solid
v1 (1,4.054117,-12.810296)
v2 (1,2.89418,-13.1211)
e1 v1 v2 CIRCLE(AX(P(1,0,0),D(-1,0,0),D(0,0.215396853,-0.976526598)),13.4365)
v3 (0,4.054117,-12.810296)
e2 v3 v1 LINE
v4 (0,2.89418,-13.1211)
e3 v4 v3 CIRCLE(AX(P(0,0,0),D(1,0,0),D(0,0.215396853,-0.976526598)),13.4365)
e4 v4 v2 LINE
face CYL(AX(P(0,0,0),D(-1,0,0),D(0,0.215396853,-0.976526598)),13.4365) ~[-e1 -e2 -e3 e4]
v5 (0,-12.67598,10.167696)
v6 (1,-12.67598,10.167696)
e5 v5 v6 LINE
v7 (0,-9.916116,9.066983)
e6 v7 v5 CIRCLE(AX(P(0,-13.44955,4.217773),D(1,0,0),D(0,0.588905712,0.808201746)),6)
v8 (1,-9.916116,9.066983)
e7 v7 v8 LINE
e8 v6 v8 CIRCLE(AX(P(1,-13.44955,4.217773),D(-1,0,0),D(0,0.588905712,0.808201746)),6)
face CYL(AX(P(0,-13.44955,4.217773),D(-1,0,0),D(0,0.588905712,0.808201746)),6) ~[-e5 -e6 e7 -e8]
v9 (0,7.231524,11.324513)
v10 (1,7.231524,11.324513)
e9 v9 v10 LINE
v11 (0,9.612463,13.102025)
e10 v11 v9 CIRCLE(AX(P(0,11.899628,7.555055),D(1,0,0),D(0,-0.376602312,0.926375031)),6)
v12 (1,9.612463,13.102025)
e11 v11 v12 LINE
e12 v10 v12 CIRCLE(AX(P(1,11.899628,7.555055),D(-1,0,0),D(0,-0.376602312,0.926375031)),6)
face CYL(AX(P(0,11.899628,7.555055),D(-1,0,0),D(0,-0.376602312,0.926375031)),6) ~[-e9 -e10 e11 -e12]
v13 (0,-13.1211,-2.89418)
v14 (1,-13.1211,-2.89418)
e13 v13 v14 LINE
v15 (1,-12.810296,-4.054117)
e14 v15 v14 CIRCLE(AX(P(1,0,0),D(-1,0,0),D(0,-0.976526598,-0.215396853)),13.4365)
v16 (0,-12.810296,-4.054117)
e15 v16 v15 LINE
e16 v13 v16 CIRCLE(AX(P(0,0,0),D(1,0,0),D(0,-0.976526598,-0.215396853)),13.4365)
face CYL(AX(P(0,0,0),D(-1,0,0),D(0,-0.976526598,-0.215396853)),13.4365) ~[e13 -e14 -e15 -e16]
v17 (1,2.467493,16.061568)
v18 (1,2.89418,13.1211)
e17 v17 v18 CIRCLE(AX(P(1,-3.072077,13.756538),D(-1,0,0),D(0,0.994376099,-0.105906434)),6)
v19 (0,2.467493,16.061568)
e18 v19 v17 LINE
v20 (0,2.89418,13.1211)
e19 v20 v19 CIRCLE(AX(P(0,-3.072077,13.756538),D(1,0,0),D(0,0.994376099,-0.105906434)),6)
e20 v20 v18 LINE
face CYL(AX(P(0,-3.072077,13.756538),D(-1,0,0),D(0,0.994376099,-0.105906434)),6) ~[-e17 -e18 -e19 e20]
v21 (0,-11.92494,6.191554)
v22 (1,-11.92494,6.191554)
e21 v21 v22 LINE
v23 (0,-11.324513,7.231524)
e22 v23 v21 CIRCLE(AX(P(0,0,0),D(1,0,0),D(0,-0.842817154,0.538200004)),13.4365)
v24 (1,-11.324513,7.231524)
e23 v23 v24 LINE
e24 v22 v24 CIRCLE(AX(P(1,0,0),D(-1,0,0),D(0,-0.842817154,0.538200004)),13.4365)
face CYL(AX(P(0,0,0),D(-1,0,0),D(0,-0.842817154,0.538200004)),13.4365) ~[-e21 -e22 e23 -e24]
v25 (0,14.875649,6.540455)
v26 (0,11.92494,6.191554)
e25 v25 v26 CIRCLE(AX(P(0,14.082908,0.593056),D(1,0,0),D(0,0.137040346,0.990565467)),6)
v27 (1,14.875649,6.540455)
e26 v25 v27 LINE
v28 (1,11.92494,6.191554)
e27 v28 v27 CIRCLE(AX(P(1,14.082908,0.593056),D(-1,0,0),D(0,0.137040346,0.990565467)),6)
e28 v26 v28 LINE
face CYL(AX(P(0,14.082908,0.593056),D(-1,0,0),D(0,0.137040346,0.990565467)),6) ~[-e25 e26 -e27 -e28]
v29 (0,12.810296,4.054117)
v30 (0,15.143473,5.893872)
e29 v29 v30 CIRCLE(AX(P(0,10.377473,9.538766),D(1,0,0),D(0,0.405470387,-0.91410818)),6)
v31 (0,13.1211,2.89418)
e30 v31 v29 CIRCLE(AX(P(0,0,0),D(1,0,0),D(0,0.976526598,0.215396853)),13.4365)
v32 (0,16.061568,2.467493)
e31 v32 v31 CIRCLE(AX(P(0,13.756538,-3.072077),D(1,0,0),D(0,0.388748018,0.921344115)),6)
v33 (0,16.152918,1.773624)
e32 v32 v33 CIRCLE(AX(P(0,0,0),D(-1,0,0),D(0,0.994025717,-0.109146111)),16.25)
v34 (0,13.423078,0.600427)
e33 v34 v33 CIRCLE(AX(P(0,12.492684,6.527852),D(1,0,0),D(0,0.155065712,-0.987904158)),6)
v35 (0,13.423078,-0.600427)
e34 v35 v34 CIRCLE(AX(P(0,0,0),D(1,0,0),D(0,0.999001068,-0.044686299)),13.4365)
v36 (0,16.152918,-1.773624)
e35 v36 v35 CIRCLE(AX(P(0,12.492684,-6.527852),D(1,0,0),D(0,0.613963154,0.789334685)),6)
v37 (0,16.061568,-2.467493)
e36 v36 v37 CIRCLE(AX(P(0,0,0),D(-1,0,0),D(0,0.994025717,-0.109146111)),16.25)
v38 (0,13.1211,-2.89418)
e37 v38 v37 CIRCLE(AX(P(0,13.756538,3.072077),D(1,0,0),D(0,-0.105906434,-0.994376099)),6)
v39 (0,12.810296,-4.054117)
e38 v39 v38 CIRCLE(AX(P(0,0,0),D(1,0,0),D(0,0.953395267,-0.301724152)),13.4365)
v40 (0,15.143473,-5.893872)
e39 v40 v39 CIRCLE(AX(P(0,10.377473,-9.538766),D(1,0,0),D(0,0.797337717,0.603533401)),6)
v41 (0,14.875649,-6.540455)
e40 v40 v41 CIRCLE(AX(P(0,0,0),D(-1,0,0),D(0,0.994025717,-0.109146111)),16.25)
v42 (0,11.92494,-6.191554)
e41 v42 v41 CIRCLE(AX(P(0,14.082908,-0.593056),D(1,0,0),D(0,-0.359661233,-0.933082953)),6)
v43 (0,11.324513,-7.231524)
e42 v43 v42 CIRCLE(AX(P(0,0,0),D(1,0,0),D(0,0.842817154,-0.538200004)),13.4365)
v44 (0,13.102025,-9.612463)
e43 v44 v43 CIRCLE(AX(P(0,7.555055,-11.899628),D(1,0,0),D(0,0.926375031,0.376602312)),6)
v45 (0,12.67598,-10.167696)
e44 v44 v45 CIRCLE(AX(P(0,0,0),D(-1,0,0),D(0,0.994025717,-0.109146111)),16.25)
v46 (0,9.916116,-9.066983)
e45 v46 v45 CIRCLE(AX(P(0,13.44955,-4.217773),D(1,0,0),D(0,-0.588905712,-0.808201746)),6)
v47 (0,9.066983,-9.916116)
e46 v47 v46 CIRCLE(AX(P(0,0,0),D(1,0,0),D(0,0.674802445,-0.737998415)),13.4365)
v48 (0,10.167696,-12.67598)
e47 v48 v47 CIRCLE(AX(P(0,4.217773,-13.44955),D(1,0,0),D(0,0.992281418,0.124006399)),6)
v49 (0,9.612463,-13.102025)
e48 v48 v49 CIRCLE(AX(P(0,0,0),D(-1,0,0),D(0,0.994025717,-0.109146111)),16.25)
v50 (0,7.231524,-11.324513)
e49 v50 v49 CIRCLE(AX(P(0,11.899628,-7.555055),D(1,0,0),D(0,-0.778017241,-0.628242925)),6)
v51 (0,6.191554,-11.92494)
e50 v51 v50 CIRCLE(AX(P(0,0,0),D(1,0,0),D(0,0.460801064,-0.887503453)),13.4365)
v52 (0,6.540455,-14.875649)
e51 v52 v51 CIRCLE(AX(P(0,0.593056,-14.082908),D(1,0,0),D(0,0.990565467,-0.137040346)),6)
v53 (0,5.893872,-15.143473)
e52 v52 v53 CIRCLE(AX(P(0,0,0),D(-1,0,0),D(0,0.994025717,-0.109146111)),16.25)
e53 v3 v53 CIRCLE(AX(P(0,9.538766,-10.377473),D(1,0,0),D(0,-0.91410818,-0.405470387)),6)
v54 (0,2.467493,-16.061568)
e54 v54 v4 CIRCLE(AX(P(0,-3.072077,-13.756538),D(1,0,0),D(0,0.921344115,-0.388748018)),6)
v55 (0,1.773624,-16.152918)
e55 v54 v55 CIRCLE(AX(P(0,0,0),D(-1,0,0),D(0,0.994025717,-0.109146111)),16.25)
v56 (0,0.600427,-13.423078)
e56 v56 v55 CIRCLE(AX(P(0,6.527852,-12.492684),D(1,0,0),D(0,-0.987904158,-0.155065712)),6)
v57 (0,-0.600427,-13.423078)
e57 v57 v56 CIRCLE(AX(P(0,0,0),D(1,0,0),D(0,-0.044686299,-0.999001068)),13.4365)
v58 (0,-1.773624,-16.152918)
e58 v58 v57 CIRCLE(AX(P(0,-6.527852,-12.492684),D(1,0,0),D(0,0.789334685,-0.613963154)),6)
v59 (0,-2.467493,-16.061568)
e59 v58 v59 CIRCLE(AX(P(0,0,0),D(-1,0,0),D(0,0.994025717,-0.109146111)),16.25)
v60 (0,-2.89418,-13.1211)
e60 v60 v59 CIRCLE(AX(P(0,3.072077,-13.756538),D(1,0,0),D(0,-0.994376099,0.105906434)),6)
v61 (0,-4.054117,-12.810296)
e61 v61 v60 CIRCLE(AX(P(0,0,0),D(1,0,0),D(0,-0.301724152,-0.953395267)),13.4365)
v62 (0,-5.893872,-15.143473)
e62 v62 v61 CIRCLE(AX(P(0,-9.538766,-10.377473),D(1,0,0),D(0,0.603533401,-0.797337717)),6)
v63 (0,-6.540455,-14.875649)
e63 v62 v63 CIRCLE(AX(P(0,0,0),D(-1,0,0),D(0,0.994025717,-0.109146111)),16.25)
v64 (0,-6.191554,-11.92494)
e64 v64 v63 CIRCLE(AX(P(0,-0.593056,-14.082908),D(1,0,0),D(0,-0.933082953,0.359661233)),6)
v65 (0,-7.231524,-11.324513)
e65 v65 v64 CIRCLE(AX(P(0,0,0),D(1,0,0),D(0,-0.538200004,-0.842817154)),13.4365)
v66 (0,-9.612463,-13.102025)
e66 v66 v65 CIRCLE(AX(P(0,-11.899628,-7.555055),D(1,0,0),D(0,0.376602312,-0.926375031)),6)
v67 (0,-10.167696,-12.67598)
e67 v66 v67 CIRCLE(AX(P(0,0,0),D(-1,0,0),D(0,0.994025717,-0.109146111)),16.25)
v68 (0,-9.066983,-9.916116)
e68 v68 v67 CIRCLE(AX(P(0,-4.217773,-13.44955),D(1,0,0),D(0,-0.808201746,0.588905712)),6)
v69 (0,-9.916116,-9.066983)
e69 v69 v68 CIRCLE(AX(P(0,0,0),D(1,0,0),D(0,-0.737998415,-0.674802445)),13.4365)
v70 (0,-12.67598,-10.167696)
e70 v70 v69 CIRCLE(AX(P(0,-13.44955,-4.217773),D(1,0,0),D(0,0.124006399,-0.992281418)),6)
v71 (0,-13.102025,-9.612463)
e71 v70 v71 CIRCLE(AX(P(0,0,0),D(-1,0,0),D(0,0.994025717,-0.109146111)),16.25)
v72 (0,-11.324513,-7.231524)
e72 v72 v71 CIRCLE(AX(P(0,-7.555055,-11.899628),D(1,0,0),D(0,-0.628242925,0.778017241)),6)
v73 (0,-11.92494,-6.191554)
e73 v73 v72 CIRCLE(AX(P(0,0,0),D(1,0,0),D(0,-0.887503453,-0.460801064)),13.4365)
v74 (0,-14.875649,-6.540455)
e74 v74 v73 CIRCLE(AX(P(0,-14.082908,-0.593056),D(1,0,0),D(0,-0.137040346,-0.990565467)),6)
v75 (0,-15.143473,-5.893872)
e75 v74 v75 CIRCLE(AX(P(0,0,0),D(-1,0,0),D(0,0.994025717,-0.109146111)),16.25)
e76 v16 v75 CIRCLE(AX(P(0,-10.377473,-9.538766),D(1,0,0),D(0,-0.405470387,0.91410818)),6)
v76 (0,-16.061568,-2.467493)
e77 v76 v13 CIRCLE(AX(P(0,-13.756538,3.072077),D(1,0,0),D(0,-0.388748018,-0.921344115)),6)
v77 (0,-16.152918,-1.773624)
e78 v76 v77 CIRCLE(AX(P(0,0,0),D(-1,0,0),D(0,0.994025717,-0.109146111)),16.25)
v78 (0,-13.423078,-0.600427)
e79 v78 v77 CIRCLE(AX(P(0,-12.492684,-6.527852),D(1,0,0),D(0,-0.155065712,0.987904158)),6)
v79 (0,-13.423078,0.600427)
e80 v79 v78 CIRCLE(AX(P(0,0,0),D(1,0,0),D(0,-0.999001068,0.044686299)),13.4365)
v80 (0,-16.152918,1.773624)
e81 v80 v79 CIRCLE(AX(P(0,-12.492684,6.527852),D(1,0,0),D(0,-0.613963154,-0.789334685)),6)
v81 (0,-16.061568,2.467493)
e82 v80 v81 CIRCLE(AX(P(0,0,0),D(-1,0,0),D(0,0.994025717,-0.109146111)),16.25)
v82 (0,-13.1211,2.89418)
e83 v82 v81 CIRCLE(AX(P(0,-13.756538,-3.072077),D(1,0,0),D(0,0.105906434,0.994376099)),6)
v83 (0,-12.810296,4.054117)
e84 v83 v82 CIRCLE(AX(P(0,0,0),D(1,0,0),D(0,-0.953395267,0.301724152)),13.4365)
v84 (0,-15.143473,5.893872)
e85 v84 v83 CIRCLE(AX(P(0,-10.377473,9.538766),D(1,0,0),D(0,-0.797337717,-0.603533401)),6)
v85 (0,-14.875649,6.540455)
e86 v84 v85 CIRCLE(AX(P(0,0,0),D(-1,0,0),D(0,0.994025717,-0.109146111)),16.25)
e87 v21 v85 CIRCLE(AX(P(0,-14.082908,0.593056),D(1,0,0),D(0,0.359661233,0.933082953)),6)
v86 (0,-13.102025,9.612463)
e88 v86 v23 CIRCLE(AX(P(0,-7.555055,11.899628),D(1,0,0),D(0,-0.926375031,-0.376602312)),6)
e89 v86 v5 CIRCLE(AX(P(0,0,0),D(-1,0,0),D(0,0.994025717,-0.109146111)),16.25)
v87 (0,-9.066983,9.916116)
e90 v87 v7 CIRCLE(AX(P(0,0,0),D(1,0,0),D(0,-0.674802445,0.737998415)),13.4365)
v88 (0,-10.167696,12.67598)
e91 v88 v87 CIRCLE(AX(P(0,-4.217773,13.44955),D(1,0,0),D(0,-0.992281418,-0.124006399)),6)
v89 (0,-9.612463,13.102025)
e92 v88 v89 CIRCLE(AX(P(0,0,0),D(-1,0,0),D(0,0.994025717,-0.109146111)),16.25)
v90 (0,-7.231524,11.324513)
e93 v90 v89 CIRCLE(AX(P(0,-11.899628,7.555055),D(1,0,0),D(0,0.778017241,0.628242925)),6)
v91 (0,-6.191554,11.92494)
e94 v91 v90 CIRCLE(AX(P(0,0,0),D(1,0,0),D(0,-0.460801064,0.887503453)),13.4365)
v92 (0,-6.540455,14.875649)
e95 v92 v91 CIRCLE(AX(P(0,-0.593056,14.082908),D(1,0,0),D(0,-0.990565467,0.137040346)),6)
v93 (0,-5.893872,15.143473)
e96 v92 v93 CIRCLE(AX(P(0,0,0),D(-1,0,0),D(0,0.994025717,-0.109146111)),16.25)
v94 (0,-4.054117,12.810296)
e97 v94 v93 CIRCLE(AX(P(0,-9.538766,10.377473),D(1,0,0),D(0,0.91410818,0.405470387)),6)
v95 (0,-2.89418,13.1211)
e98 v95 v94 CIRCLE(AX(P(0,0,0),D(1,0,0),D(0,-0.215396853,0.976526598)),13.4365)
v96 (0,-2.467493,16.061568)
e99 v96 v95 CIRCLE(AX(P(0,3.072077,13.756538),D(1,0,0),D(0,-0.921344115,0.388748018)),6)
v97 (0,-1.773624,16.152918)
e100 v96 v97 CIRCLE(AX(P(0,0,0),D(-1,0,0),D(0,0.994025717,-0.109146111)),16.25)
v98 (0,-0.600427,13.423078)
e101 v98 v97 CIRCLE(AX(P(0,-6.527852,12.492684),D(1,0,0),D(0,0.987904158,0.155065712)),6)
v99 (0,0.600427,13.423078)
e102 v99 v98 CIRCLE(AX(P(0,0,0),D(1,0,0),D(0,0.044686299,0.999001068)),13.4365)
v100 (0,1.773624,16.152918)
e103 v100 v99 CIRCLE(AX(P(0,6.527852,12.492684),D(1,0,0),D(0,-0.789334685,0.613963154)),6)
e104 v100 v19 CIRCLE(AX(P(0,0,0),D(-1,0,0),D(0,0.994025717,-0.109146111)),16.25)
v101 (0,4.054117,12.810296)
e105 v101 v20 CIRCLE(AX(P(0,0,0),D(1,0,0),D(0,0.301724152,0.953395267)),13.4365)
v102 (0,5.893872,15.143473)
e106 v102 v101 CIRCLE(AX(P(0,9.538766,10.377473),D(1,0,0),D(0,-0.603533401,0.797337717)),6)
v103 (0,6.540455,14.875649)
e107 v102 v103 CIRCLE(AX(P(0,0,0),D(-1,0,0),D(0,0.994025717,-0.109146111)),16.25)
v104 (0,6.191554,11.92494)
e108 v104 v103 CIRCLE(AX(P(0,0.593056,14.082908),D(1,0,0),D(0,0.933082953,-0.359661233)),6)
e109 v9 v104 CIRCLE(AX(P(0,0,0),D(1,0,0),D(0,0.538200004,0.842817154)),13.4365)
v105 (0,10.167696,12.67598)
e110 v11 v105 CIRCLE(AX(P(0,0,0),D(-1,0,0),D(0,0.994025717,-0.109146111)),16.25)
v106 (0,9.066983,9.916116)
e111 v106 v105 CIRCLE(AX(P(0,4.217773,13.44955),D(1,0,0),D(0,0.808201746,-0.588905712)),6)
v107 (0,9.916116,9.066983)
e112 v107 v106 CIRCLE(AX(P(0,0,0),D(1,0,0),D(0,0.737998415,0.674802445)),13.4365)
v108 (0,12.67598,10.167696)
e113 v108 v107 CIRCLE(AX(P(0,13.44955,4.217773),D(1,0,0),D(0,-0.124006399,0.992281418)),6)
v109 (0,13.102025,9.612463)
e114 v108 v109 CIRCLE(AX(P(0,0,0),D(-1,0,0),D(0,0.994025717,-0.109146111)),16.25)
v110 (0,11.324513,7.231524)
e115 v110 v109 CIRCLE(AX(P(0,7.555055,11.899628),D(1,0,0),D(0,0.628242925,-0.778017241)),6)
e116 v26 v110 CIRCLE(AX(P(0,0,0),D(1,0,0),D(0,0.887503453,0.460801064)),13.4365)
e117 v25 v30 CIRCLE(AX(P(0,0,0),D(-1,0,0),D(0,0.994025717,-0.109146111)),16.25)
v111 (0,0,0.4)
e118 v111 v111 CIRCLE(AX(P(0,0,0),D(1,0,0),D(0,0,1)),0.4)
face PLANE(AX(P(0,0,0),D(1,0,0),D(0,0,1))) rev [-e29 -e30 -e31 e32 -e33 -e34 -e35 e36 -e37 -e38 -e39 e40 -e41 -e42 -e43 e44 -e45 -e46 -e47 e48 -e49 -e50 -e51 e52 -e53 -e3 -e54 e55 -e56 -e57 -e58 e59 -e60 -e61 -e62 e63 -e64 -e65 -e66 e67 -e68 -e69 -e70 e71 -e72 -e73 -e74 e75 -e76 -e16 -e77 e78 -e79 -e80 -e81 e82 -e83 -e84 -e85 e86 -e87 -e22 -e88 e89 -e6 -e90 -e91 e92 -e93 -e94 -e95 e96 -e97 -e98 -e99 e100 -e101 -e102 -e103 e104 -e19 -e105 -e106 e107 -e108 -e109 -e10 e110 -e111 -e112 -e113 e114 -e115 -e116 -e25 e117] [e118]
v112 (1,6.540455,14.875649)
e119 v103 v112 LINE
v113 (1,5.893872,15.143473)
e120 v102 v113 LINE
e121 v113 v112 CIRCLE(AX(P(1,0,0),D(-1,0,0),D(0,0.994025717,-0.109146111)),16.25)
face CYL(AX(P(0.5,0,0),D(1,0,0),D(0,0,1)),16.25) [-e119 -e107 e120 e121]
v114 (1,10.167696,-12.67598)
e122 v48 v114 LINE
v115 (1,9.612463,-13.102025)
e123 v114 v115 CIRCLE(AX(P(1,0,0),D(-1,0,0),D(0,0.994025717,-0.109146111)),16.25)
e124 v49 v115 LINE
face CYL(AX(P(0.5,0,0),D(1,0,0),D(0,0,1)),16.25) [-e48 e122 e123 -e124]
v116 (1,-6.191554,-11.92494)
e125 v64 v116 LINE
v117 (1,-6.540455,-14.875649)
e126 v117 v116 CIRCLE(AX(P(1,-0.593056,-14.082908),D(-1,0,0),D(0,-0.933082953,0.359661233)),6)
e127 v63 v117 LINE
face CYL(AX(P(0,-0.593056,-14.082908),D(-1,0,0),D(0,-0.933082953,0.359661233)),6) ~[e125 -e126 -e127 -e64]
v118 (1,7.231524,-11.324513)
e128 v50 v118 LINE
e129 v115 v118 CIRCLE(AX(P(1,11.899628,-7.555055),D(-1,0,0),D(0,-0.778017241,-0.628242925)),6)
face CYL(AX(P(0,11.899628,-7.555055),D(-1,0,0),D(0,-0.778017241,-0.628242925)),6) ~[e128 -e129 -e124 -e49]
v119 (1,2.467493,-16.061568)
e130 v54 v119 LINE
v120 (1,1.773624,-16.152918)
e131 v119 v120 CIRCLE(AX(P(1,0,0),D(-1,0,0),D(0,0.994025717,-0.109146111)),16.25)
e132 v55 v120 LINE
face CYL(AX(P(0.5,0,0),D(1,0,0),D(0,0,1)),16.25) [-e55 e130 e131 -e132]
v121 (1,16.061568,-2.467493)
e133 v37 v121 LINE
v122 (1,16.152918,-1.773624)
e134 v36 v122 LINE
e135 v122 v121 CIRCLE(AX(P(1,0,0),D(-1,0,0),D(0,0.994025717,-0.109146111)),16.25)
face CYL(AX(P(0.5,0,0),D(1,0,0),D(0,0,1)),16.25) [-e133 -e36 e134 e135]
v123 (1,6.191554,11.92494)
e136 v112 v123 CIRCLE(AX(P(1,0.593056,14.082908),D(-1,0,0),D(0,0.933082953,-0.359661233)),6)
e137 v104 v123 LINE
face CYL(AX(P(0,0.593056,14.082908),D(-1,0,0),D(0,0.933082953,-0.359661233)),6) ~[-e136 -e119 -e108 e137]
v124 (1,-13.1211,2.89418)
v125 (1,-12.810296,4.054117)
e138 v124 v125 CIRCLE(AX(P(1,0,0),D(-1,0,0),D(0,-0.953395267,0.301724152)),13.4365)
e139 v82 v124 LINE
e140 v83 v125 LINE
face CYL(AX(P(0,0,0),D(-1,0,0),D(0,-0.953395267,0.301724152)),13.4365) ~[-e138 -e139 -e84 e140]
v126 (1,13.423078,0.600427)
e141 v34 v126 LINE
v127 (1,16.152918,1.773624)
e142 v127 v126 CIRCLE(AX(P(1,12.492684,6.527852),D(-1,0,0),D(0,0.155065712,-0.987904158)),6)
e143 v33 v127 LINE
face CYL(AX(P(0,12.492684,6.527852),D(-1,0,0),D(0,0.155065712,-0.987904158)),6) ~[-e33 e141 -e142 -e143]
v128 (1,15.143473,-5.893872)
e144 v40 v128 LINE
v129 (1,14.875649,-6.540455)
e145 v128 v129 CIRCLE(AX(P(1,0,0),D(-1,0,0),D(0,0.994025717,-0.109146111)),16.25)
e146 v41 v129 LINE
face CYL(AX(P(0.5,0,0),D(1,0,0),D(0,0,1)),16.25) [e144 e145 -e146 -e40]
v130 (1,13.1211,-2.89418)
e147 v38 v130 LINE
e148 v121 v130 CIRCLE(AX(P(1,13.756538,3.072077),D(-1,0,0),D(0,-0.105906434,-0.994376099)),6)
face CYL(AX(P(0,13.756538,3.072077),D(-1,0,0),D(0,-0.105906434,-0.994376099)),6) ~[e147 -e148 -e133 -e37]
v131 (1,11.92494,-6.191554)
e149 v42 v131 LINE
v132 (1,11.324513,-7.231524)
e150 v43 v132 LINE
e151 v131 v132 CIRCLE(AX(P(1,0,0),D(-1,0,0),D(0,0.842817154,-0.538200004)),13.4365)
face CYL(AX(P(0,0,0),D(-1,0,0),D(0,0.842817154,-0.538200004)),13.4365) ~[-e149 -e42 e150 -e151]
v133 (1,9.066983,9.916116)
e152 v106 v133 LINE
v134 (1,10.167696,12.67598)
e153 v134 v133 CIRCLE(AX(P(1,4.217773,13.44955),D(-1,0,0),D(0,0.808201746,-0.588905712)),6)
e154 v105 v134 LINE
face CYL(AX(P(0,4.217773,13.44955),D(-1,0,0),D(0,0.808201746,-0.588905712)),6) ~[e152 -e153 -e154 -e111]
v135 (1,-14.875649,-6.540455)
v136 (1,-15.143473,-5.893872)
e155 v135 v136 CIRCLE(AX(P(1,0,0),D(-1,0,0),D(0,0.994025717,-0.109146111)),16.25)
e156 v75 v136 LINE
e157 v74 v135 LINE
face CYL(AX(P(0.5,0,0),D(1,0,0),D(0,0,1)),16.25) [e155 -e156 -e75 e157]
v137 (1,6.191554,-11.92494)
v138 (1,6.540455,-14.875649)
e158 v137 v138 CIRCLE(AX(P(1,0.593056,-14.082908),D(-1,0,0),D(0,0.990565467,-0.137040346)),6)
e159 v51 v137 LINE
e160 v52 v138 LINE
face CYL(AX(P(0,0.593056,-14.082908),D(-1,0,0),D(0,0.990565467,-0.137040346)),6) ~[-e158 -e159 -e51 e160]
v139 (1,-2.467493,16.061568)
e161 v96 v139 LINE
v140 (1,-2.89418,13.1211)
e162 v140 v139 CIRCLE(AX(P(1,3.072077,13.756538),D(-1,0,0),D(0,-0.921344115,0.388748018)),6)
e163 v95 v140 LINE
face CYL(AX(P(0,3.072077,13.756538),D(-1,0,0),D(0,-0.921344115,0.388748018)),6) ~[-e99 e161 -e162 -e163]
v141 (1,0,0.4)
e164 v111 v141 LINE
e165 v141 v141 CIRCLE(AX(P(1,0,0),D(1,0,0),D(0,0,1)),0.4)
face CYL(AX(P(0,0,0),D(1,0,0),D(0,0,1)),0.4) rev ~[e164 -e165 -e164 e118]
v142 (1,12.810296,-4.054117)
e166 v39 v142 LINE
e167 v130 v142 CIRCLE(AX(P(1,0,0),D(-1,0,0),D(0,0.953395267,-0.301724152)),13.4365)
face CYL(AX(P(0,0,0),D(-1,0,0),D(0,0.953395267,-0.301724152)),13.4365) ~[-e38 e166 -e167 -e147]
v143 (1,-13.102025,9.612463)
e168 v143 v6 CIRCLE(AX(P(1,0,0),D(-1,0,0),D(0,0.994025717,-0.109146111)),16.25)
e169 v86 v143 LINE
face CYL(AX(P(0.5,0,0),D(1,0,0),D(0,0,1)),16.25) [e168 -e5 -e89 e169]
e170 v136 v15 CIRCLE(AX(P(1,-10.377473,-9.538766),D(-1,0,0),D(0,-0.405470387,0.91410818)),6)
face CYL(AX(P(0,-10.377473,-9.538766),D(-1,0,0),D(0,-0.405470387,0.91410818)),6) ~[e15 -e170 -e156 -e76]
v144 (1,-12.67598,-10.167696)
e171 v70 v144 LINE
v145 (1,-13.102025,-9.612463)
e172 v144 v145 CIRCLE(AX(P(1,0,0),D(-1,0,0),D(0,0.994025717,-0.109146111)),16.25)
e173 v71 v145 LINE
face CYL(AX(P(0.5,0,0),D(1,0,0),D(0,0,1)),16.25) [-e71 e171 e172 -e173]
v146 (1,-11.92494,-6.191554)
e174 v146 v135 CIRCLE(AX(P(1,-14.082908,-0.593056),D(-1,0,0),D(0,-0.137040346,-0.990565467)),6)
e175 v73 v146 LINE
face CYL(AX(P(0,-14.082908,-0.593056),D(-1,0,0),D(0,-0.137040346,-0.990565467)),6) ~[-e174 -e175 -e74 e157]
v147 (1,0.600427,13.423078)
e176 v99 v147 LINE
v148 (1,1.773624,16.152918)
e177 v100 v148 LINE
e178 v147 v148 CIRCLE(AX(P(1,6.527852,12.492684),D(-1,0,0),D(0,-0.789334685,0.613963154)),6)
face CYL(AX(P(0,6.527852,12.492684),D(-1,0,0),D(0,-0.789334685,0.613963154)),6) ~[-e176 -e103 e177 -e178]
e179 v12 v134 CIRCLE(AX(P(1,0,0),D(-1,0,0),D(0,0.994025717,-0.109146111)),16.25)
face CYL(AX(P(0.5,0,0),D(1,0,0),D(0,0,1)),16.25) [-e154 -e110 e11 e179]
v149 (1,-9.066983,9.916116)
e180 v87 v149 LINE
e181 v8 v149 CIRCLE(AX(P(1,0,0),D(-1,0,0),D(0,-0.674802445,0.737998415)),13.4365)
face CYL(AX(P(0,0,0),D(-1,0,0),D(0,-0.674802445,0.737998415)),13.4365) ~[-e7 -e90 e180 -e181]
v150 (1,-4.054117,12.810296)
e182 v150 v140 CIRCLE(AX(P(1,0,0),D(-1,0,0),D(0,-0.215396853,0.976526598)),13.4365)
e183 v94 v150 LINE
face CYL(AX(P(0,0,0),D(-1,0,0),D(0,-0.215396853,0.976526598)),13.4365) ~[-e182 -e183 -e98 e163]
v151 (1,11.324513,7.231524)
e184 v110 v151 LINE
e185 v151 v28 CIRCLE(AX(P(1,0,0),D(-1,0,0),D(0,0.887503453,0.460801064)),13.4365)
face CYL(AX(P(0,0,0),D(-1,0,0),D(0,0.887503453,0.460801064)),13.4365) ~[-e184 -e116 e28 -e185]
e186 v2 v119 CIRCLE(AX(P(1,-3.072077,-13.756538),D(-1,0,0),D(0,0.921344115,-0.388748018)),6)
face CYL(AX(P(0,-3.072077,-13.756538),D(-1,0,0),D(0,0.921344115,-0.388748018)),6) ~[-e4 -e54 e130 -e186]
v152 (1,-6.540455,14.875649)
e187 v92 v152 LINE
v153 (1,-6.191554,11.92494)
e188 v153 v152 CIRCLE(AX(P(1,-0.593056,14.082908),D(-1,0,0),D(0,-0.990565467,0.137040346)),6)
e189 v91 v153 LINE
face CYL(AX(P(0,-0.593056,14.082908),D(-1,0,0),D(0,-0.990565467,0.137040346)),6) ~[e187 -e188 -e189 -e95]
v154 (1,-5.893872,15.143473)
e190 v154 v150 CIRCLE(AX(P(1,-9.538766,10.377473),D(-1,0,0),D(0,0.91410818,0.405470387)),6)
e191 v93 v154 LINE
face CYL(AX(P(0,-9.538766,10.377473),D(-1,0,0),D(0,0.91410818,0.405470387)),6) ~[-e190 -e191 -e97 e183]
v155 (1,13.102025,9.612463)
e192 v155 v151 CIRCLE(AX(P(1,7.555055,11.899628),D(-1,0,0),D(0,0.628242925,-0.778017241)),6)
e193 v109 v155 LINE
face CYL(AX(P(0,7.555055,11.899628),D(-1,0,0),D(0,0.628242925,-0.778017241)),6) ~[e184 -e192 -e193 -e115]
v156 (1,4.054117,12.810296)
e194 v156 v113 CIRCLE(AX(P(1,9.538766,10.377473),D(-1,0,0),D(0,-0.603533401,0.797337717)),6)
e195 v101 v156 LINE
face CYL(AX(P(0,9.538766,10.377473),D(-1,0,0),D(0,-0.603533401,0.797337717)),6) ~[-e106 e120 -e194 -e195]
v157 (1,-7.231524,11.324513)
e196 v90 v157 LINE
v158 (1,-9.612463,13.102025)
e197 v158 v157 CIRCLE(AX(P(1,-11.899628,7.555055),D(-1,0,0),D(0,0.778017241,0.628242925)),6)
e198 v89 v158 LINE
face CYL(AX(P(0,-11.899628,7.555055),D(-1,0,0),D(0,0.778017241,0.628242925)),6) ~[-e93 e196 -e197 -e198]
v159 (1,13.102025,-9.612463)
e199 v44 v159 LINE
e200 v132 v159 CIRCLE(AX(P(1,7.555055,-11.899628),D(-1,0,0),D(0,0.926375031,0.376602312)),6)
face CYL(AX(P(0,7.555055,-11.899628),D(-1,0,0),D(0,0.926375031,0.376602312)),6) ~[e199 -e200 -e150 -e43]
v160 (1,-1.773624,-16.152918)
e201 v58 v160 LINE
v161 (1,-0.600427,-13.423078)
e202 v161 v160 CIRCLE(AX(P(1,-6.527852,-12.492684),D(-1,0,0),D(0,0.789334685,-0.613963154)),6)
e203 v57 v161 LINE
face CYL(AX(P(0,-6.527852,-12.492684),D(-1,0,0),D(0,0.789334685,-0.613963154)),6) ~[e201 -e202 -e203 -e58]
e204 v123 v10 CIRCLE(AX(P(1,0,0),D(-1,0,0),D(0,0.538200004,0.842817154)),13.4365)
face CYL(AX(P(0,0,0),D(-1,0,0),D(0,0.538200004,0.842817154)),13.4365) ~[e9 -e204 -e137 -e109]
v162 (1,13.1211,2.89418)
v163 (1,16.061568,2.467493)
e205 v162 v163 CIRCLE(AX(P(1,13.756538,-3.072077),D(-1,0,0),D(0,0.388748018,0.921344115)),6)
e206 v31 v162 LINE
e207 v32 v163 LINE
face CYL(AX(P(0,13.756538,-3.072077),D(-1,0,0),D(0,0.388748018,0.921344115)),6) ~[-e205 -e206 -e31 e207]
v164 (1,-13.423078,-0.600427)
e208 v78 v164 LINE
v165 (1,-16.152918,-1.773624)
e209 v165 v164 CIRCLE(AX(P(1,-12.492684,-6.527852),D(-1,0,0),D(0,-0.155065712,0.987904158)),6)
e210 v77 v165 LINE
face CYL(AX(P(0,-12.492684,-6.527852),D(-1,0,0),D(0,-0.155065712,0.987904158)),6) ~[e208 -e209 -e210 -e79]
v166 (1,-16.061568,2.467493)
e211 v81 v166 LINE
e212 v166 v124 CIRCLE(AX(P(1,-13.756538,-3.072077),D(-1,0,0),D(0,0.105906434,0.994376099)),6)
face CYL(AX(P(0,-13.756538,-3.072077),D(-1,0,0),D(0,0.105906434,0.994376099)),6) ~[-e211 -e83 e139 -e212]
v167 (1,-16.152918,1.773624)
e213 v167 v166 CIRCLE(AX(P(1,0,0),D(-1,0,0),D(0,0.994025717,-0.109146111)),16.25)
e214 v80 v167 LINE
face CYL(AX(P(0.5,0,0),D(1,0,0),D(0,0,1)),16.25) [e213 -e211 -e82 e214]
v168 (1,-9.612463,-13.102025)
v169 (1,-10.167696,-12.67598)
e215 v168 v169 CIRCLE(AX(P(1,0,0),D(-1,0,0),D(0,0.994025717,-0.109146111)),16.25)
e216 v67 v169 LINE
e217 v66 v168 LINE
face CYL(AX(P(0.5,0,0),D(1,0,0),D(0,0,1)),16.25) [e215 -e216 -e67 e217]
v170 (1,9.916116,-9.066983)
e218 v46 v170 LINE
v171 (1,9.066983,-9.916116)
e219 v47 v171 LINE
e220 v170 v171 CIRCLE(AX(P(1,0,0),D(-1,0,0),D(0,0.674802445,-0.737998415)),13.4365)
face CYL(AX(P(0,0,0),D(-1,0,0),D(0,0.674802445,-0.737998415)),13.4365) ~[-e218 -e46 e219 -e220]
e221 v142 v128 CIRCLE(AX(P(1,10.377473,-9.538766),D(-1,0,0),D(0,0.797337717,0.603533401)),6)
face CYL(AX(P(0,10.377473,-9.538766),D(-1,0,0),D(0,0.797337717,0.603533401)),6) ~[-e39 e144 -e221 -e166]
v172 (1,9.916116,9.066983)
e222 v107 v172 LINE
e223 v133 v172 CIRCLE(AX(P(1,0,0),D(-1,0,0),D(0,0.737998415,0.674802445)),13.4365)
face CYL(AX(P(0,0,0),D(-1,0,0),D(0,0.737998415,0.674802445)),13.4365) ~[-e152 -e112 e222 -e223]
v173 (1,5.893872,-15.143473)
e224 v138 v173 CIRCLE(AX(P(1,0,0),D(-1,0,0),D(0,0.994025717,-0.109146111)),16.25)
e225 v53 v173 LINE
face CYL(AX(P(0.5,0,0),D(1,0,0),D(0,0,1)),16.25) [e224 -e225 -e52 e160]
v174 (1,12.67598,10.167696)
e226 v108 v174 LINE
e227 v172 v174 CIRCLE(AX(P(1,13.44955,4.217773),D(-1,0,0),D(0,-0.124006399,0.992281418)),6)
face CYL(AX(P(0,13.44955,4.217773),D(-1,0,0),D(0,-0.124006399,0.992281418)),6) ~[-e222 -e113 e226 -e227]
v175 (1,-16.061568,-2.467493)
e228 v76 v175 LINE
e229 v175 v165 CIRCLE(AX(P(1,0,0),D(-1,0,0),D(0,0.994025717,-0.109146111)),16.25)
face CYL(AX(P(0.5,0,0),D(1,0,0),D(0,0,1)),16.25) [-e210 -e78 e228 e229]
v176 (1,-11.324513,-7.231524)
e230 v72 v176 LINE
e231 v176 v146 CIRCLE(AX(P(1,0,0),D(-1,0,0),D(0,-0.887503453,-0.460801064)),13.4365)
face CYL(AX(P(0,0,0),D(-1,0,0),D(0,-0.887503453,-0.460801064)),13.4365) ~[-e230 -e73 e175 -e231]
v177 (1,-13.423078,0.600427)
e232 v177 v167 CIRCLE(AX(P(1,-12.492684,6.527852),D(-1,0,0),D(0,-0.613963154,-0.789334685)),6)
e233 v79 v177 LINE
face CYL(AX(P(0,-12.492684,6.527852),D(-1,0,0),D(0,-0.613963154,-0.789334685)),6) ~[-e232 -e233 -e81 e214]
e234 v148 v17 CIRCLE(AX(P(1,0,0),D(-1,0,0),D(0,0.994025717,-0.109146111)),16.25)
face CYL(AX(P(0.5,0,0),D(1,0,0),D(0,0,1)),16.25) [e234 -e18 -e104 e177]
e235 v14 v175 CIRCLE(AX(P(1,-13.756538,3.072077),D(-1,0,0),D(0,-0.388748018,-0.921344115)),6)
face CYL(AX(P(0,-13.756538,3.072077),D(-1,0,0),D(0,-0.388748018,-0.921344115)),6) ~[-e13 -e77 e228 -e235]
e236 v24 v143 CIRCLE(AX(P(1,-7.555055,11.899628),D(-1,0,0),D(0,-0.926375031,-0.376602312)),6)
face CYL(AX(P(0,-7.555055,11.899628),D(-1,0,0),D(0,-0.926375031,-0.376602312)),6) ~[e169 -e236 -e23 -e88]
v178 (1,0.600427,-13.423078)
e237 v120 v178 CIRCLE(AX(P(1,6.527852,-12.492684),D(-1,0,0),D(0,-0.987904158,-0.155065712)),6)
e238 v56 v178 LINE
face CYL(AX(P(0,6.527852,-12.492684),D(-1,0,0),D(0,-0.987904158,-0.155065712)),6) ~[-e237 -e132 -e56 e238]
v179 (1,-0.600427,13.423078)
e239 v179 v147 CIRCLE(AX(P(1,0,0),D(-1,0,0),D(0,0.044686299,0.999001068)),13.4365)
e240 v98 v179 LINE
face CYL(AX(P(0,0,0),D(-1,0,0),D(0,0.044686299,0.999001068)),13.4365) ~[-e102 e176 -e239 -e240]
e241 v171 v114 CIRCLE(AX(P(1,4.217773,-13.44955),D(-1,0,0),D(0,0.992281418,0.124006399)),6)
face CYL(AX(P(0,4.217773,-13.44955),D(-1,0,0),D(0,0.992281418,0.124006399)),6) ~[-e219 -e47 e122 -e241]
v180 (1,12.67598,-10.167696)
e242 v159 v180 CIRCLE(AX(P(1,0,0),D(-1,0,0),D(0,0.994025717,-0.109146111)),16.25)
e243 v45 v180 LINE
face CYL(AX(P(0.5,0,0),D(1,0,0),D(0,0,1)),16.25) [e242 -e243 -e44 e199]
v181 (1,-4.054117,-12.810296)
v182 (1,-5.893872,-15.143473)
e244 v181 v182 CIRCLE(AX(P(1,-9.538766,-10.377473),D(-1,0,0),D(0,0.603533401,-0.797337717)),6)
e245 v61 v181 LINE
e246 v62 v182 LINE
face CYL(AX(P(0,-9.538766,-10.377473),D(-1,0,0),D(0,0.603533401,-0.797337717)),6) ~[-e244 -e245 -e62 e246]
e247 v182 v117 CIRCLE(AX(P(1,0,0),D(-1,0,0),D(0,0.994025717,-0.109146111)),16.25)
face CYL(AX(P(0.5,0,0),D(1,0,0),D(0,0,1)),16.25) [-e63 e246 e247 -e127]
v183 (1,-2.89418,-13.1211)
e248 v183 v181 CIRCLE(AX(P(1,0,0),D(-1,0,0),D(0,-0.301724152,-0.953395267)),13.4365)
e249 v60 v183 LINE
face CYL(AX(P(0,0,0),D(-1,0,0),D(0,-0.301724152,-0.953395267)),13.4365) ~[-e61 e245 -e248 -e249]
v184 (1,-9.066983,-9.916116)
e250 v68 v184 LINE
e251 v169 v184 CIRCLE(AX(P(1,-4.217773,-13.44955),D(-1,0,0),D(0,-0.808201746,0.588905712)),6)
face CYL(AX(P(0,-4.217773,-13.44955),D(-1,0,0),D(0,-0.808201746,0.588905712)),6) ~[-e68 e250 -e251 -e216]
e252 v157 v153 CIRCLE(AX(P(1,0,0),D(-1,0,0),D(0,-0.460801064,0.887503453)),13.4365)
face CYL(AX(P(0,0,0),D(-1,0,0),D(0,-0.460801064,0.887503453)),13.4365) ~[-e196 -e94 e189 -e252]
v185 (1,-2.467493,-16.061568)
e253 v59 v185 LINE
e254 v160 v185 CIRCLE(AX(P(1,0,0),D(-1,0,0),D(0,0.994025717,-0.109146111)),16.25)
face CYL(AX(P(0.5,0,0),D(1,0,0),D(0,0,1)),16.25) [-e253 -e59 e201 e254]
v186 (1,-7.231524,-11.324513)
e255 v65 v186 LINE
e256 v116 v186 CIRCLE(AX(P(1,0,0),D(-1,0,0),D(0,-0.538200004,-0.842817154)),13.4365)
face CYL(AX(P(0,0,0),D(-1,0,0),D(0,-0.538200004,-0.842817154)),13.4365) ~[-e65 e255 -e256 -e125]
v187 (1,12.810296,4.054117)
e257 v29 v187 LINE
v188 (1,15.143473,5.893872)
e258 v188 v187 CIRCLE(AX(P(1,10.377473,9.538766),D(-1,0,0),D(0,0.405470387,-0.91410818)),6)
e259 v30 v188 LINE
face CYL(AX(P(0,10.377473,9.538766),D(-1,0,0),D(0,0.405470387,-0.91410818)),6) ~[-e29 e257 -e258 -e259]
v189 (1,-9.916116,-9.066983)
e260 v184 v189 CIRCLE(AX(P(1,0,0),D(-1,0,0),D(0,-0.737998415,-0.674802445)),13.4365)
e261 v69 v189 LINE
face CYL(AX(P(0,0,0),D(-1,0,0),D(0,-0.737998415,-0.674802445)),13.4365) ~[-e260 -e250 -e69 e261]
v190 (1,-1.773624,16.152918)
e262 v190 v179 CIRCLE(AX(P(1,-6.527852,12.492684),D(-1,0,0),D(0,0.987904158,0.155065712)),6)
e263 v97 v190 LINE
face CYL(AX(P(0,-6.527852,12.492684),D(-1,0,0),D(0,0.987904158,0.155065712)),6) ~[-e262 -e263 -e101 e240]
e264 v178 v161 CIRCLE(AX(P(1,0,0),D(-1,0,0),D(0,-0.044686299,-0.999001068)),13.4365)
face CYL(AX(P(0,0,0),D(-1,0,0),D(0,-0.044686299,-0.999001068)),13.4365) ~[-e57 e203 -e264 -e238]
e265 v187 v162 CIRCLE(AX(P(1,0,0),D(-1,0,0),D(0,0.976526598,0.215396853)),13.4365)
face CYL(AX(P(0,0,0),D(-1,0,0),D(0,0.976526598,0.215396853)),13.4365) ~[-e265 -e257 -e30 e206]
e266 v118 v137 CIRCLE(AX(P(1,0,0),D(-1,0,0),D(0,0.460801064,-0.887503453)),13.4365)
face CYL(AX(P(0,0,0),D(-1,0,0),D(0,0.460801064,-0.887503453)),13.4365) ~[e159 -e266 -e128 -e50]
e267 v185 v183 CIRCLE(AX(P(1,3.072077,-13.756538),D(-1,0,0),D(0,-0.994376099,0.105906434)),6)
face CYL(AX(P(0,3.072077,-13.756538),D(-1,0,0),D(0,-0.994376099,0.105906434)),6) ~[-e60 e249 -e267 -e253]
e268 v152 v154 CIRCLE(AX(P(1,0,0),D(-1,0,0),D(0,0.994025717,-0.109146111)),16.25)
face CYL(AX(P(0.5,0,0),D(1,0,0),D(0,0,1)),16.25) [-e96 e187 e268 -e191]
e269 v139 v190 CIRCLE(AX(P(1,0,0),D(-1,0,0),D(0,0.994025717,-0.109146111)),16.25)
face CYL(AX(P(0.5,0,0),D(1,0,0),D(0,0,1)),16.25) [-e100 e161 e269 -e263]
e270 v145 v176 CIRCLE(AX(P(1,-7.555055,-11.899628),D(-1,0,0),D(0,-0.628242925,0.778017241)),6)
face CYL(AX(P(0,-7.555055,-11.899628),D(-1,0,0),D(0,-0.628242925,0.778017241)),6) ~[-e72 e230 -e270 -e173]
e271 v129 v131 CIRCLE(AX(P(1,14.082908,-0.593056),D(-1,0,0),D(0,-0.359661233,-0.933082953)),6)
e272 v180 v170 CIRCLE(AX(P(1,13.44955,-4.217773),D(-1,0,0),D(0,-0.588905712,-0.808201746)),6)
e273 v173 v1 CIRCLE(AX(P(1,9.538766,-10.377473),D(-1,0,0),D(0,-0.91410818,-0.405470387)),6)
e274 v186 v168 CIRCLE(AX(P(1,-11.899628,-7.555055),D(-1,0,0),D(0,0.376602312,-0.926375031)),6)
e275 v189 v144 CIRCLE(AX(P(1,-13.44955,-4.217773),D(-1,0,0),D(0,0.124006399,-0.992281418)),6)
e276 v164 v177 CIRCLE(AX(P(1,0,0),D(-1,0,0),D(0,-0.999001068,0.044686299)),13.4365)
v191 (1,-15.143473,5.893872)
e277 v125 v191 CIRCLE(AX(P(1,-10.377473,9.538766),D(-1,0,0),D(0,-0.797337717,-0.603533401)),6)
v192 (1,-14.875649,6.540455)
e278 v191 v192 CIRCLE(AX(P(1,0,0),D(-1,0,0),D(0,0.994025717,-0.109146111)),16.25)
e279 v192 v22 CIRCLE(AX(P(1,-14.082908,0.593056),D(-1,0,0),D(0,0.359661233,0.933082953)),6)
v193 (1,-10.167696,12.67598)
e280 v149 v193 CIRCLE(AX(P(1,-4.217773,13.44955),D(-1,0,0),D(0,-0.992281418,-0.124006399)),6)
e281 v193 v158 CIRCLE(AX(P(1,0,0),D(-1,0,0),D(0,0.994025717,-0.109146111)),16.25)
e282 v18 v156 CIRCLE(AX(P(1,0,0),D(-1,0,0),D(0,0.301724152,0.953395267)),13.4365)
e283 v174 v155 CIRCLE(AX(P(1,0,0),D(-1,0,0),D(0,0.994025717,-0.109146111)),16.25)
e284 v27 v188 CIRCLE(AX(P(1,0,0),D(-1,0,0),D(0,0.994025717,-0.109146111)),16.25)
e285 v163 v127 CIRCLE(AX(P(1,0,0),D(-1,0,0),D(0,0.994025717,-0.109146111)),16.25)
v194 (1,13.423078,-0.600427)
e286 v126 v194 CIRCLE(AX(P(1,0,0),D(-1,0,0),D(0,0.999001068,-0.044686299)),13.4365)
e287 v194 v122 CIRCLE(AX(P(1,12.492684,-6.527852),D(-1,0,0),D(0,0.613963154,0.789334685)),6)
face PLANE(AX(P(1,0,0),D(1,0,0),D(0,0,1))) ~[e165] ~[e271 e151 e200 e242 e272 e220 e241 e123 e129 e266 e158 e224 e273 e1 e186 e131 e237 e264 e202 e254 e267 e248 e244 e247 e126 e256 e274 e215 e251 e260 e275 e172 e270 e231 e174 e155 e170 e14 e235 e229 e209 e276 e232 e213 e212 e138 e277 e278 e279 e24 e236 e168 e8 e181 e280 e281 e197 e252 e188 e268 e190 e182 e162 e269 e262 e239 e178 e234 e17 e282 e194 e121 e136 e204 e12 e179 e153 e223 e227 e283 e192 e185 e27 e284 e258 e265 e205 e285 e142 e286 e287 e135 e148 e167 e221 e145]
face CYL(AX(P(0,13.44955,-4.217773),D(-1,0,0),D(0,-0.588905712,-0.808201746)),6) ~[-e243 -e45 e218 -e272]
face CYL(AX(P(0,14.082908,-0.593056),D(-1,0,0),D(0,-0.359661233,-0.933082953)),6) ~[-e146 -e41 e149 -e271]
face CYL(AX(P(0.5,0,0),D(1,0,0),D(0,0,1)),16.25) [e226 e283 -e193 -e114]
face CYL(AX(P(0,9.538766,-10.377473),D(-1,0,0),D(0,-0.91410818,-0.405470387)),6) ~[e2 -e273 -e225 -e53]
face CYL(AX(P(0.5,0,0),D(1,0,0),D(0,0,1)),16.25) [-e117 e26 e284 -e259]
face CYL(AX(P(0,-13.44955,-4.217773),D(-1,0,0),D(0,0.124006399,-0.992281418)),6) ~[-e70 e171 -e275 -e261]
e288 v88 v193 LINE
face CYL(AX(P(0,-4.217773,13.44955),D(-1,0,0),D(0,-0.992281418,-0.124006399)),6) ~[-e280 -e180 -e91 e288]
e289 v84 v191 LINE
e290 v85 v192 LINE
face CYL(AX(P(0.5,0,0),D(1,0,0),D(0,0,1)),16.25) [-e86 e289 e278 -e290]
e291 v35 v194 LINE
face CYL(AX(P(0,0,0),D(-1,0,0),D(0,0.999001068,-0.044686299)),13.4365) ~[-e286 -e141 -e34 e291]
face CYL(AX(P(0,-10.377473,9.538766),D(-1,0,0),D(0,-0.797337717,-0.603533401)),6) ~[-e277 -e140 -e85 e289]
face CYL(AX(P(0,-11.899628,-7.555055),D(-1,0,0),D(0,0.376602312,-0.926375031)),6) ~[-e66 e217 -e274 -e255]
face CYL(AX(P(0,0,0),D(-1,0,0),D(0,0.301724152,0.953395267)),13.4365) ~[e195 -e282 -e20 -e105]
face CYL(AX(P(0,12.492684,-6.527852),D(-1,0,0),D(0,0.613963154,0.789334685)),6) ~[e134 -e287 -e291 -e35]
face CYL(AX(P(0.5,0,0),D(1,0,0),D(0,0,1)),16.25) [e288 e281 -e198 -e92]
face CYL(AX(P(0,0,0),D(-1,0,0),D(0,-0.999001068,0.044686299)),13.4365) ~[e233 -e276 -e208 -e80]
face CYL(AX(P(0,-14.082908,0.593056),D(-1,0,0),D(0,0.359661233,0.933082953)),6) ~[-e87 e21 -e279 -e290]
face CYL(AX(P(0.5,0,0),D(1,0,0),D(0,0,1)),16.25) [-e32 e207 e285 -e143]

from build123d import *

# Parameters (mm, degrees)
BASPROSKE_W     = 1
BASPROSKE_H     = 16.25
TOOTHCUT_DEPTH  = 24.002717231
TEETHCUTS_COUNT = 24
BORSKE_R        = 0.4
BORE_DEPTH      = 50.0003556


with BuildPart() as part:
    # BasProSke → Base-Revolve (revolve)
    with BuildSketch(Plane(origin=(0, 0, 0), x_dir=(1, 0, 0), z_dir=(0, 1, 0)), mode=Mode.PRIVATE) as base_revolve_sk:
        with Locations((0.5, 8.125)):
            Rectangle(BASPROSKE_W, BASPROSKE_H)
    revolve(base_revolve_sk.sketch.rotate(Axis((-10, 0, 0), (1, 0, 0)), 180), axis=Axis((-10, 0, 0), (1, 0, 0)))

    # TooCutSke → ToothCut (cut, through all)
    with BuildSketch(Plane(origin=(0, 0, 0), x_dir=(0, 0, -1), z_dir=(1, 0, 0))):
        with BuildLine():
            ThreePointArc((0.600427448, 13.423077856), (0, 13.4365), (-0.600427448, 13.423077856))
            ThreePointArc((-0.600427448, 13.423077856), (-1.021266982, 14.875437681), (-1.791844283, 16.176462507))
            ThreePointArc((-1.791844283, 16.176462507), (0, 16.2754), (1.791844283, 16.176462507))
            ThreePointArc((1.791844283, 16.176462507), (1.021266982, 14.875437681), (0.600427448, 13.423077856))
        make_face()
    toothcut = extrude(amount=TOOTHCUT_DEPTH, mode=Mode.SUBTRACT)

    # TeethCuts: ToothCut ×24 about axis
    teethcuts_axis = Axis((0, 0, 0), (1, 0, 0))
    for i in range(1, TEETHCUTS_COUNT):
        add(toothcut.rotate(teethcuts_axis, i * 360 / TEETHCUTS_COUNT), mode=Mode.SUBTRACT)

    # BorSke → Bore (cut, symmetric)
    with BuildSketch(Plane(origin=(0, 0, 0), x_dir=(0, 0, -1), z_dir=(1, 0, 0))):
        with Locations(Location((0, 0, 0), (0, 0, 180))):
            Circle(BORSKE_R)
    extrude(amount=BORE_DEPTH, both=True, mode=Mode.SUBTRACT)


solid = part.part
